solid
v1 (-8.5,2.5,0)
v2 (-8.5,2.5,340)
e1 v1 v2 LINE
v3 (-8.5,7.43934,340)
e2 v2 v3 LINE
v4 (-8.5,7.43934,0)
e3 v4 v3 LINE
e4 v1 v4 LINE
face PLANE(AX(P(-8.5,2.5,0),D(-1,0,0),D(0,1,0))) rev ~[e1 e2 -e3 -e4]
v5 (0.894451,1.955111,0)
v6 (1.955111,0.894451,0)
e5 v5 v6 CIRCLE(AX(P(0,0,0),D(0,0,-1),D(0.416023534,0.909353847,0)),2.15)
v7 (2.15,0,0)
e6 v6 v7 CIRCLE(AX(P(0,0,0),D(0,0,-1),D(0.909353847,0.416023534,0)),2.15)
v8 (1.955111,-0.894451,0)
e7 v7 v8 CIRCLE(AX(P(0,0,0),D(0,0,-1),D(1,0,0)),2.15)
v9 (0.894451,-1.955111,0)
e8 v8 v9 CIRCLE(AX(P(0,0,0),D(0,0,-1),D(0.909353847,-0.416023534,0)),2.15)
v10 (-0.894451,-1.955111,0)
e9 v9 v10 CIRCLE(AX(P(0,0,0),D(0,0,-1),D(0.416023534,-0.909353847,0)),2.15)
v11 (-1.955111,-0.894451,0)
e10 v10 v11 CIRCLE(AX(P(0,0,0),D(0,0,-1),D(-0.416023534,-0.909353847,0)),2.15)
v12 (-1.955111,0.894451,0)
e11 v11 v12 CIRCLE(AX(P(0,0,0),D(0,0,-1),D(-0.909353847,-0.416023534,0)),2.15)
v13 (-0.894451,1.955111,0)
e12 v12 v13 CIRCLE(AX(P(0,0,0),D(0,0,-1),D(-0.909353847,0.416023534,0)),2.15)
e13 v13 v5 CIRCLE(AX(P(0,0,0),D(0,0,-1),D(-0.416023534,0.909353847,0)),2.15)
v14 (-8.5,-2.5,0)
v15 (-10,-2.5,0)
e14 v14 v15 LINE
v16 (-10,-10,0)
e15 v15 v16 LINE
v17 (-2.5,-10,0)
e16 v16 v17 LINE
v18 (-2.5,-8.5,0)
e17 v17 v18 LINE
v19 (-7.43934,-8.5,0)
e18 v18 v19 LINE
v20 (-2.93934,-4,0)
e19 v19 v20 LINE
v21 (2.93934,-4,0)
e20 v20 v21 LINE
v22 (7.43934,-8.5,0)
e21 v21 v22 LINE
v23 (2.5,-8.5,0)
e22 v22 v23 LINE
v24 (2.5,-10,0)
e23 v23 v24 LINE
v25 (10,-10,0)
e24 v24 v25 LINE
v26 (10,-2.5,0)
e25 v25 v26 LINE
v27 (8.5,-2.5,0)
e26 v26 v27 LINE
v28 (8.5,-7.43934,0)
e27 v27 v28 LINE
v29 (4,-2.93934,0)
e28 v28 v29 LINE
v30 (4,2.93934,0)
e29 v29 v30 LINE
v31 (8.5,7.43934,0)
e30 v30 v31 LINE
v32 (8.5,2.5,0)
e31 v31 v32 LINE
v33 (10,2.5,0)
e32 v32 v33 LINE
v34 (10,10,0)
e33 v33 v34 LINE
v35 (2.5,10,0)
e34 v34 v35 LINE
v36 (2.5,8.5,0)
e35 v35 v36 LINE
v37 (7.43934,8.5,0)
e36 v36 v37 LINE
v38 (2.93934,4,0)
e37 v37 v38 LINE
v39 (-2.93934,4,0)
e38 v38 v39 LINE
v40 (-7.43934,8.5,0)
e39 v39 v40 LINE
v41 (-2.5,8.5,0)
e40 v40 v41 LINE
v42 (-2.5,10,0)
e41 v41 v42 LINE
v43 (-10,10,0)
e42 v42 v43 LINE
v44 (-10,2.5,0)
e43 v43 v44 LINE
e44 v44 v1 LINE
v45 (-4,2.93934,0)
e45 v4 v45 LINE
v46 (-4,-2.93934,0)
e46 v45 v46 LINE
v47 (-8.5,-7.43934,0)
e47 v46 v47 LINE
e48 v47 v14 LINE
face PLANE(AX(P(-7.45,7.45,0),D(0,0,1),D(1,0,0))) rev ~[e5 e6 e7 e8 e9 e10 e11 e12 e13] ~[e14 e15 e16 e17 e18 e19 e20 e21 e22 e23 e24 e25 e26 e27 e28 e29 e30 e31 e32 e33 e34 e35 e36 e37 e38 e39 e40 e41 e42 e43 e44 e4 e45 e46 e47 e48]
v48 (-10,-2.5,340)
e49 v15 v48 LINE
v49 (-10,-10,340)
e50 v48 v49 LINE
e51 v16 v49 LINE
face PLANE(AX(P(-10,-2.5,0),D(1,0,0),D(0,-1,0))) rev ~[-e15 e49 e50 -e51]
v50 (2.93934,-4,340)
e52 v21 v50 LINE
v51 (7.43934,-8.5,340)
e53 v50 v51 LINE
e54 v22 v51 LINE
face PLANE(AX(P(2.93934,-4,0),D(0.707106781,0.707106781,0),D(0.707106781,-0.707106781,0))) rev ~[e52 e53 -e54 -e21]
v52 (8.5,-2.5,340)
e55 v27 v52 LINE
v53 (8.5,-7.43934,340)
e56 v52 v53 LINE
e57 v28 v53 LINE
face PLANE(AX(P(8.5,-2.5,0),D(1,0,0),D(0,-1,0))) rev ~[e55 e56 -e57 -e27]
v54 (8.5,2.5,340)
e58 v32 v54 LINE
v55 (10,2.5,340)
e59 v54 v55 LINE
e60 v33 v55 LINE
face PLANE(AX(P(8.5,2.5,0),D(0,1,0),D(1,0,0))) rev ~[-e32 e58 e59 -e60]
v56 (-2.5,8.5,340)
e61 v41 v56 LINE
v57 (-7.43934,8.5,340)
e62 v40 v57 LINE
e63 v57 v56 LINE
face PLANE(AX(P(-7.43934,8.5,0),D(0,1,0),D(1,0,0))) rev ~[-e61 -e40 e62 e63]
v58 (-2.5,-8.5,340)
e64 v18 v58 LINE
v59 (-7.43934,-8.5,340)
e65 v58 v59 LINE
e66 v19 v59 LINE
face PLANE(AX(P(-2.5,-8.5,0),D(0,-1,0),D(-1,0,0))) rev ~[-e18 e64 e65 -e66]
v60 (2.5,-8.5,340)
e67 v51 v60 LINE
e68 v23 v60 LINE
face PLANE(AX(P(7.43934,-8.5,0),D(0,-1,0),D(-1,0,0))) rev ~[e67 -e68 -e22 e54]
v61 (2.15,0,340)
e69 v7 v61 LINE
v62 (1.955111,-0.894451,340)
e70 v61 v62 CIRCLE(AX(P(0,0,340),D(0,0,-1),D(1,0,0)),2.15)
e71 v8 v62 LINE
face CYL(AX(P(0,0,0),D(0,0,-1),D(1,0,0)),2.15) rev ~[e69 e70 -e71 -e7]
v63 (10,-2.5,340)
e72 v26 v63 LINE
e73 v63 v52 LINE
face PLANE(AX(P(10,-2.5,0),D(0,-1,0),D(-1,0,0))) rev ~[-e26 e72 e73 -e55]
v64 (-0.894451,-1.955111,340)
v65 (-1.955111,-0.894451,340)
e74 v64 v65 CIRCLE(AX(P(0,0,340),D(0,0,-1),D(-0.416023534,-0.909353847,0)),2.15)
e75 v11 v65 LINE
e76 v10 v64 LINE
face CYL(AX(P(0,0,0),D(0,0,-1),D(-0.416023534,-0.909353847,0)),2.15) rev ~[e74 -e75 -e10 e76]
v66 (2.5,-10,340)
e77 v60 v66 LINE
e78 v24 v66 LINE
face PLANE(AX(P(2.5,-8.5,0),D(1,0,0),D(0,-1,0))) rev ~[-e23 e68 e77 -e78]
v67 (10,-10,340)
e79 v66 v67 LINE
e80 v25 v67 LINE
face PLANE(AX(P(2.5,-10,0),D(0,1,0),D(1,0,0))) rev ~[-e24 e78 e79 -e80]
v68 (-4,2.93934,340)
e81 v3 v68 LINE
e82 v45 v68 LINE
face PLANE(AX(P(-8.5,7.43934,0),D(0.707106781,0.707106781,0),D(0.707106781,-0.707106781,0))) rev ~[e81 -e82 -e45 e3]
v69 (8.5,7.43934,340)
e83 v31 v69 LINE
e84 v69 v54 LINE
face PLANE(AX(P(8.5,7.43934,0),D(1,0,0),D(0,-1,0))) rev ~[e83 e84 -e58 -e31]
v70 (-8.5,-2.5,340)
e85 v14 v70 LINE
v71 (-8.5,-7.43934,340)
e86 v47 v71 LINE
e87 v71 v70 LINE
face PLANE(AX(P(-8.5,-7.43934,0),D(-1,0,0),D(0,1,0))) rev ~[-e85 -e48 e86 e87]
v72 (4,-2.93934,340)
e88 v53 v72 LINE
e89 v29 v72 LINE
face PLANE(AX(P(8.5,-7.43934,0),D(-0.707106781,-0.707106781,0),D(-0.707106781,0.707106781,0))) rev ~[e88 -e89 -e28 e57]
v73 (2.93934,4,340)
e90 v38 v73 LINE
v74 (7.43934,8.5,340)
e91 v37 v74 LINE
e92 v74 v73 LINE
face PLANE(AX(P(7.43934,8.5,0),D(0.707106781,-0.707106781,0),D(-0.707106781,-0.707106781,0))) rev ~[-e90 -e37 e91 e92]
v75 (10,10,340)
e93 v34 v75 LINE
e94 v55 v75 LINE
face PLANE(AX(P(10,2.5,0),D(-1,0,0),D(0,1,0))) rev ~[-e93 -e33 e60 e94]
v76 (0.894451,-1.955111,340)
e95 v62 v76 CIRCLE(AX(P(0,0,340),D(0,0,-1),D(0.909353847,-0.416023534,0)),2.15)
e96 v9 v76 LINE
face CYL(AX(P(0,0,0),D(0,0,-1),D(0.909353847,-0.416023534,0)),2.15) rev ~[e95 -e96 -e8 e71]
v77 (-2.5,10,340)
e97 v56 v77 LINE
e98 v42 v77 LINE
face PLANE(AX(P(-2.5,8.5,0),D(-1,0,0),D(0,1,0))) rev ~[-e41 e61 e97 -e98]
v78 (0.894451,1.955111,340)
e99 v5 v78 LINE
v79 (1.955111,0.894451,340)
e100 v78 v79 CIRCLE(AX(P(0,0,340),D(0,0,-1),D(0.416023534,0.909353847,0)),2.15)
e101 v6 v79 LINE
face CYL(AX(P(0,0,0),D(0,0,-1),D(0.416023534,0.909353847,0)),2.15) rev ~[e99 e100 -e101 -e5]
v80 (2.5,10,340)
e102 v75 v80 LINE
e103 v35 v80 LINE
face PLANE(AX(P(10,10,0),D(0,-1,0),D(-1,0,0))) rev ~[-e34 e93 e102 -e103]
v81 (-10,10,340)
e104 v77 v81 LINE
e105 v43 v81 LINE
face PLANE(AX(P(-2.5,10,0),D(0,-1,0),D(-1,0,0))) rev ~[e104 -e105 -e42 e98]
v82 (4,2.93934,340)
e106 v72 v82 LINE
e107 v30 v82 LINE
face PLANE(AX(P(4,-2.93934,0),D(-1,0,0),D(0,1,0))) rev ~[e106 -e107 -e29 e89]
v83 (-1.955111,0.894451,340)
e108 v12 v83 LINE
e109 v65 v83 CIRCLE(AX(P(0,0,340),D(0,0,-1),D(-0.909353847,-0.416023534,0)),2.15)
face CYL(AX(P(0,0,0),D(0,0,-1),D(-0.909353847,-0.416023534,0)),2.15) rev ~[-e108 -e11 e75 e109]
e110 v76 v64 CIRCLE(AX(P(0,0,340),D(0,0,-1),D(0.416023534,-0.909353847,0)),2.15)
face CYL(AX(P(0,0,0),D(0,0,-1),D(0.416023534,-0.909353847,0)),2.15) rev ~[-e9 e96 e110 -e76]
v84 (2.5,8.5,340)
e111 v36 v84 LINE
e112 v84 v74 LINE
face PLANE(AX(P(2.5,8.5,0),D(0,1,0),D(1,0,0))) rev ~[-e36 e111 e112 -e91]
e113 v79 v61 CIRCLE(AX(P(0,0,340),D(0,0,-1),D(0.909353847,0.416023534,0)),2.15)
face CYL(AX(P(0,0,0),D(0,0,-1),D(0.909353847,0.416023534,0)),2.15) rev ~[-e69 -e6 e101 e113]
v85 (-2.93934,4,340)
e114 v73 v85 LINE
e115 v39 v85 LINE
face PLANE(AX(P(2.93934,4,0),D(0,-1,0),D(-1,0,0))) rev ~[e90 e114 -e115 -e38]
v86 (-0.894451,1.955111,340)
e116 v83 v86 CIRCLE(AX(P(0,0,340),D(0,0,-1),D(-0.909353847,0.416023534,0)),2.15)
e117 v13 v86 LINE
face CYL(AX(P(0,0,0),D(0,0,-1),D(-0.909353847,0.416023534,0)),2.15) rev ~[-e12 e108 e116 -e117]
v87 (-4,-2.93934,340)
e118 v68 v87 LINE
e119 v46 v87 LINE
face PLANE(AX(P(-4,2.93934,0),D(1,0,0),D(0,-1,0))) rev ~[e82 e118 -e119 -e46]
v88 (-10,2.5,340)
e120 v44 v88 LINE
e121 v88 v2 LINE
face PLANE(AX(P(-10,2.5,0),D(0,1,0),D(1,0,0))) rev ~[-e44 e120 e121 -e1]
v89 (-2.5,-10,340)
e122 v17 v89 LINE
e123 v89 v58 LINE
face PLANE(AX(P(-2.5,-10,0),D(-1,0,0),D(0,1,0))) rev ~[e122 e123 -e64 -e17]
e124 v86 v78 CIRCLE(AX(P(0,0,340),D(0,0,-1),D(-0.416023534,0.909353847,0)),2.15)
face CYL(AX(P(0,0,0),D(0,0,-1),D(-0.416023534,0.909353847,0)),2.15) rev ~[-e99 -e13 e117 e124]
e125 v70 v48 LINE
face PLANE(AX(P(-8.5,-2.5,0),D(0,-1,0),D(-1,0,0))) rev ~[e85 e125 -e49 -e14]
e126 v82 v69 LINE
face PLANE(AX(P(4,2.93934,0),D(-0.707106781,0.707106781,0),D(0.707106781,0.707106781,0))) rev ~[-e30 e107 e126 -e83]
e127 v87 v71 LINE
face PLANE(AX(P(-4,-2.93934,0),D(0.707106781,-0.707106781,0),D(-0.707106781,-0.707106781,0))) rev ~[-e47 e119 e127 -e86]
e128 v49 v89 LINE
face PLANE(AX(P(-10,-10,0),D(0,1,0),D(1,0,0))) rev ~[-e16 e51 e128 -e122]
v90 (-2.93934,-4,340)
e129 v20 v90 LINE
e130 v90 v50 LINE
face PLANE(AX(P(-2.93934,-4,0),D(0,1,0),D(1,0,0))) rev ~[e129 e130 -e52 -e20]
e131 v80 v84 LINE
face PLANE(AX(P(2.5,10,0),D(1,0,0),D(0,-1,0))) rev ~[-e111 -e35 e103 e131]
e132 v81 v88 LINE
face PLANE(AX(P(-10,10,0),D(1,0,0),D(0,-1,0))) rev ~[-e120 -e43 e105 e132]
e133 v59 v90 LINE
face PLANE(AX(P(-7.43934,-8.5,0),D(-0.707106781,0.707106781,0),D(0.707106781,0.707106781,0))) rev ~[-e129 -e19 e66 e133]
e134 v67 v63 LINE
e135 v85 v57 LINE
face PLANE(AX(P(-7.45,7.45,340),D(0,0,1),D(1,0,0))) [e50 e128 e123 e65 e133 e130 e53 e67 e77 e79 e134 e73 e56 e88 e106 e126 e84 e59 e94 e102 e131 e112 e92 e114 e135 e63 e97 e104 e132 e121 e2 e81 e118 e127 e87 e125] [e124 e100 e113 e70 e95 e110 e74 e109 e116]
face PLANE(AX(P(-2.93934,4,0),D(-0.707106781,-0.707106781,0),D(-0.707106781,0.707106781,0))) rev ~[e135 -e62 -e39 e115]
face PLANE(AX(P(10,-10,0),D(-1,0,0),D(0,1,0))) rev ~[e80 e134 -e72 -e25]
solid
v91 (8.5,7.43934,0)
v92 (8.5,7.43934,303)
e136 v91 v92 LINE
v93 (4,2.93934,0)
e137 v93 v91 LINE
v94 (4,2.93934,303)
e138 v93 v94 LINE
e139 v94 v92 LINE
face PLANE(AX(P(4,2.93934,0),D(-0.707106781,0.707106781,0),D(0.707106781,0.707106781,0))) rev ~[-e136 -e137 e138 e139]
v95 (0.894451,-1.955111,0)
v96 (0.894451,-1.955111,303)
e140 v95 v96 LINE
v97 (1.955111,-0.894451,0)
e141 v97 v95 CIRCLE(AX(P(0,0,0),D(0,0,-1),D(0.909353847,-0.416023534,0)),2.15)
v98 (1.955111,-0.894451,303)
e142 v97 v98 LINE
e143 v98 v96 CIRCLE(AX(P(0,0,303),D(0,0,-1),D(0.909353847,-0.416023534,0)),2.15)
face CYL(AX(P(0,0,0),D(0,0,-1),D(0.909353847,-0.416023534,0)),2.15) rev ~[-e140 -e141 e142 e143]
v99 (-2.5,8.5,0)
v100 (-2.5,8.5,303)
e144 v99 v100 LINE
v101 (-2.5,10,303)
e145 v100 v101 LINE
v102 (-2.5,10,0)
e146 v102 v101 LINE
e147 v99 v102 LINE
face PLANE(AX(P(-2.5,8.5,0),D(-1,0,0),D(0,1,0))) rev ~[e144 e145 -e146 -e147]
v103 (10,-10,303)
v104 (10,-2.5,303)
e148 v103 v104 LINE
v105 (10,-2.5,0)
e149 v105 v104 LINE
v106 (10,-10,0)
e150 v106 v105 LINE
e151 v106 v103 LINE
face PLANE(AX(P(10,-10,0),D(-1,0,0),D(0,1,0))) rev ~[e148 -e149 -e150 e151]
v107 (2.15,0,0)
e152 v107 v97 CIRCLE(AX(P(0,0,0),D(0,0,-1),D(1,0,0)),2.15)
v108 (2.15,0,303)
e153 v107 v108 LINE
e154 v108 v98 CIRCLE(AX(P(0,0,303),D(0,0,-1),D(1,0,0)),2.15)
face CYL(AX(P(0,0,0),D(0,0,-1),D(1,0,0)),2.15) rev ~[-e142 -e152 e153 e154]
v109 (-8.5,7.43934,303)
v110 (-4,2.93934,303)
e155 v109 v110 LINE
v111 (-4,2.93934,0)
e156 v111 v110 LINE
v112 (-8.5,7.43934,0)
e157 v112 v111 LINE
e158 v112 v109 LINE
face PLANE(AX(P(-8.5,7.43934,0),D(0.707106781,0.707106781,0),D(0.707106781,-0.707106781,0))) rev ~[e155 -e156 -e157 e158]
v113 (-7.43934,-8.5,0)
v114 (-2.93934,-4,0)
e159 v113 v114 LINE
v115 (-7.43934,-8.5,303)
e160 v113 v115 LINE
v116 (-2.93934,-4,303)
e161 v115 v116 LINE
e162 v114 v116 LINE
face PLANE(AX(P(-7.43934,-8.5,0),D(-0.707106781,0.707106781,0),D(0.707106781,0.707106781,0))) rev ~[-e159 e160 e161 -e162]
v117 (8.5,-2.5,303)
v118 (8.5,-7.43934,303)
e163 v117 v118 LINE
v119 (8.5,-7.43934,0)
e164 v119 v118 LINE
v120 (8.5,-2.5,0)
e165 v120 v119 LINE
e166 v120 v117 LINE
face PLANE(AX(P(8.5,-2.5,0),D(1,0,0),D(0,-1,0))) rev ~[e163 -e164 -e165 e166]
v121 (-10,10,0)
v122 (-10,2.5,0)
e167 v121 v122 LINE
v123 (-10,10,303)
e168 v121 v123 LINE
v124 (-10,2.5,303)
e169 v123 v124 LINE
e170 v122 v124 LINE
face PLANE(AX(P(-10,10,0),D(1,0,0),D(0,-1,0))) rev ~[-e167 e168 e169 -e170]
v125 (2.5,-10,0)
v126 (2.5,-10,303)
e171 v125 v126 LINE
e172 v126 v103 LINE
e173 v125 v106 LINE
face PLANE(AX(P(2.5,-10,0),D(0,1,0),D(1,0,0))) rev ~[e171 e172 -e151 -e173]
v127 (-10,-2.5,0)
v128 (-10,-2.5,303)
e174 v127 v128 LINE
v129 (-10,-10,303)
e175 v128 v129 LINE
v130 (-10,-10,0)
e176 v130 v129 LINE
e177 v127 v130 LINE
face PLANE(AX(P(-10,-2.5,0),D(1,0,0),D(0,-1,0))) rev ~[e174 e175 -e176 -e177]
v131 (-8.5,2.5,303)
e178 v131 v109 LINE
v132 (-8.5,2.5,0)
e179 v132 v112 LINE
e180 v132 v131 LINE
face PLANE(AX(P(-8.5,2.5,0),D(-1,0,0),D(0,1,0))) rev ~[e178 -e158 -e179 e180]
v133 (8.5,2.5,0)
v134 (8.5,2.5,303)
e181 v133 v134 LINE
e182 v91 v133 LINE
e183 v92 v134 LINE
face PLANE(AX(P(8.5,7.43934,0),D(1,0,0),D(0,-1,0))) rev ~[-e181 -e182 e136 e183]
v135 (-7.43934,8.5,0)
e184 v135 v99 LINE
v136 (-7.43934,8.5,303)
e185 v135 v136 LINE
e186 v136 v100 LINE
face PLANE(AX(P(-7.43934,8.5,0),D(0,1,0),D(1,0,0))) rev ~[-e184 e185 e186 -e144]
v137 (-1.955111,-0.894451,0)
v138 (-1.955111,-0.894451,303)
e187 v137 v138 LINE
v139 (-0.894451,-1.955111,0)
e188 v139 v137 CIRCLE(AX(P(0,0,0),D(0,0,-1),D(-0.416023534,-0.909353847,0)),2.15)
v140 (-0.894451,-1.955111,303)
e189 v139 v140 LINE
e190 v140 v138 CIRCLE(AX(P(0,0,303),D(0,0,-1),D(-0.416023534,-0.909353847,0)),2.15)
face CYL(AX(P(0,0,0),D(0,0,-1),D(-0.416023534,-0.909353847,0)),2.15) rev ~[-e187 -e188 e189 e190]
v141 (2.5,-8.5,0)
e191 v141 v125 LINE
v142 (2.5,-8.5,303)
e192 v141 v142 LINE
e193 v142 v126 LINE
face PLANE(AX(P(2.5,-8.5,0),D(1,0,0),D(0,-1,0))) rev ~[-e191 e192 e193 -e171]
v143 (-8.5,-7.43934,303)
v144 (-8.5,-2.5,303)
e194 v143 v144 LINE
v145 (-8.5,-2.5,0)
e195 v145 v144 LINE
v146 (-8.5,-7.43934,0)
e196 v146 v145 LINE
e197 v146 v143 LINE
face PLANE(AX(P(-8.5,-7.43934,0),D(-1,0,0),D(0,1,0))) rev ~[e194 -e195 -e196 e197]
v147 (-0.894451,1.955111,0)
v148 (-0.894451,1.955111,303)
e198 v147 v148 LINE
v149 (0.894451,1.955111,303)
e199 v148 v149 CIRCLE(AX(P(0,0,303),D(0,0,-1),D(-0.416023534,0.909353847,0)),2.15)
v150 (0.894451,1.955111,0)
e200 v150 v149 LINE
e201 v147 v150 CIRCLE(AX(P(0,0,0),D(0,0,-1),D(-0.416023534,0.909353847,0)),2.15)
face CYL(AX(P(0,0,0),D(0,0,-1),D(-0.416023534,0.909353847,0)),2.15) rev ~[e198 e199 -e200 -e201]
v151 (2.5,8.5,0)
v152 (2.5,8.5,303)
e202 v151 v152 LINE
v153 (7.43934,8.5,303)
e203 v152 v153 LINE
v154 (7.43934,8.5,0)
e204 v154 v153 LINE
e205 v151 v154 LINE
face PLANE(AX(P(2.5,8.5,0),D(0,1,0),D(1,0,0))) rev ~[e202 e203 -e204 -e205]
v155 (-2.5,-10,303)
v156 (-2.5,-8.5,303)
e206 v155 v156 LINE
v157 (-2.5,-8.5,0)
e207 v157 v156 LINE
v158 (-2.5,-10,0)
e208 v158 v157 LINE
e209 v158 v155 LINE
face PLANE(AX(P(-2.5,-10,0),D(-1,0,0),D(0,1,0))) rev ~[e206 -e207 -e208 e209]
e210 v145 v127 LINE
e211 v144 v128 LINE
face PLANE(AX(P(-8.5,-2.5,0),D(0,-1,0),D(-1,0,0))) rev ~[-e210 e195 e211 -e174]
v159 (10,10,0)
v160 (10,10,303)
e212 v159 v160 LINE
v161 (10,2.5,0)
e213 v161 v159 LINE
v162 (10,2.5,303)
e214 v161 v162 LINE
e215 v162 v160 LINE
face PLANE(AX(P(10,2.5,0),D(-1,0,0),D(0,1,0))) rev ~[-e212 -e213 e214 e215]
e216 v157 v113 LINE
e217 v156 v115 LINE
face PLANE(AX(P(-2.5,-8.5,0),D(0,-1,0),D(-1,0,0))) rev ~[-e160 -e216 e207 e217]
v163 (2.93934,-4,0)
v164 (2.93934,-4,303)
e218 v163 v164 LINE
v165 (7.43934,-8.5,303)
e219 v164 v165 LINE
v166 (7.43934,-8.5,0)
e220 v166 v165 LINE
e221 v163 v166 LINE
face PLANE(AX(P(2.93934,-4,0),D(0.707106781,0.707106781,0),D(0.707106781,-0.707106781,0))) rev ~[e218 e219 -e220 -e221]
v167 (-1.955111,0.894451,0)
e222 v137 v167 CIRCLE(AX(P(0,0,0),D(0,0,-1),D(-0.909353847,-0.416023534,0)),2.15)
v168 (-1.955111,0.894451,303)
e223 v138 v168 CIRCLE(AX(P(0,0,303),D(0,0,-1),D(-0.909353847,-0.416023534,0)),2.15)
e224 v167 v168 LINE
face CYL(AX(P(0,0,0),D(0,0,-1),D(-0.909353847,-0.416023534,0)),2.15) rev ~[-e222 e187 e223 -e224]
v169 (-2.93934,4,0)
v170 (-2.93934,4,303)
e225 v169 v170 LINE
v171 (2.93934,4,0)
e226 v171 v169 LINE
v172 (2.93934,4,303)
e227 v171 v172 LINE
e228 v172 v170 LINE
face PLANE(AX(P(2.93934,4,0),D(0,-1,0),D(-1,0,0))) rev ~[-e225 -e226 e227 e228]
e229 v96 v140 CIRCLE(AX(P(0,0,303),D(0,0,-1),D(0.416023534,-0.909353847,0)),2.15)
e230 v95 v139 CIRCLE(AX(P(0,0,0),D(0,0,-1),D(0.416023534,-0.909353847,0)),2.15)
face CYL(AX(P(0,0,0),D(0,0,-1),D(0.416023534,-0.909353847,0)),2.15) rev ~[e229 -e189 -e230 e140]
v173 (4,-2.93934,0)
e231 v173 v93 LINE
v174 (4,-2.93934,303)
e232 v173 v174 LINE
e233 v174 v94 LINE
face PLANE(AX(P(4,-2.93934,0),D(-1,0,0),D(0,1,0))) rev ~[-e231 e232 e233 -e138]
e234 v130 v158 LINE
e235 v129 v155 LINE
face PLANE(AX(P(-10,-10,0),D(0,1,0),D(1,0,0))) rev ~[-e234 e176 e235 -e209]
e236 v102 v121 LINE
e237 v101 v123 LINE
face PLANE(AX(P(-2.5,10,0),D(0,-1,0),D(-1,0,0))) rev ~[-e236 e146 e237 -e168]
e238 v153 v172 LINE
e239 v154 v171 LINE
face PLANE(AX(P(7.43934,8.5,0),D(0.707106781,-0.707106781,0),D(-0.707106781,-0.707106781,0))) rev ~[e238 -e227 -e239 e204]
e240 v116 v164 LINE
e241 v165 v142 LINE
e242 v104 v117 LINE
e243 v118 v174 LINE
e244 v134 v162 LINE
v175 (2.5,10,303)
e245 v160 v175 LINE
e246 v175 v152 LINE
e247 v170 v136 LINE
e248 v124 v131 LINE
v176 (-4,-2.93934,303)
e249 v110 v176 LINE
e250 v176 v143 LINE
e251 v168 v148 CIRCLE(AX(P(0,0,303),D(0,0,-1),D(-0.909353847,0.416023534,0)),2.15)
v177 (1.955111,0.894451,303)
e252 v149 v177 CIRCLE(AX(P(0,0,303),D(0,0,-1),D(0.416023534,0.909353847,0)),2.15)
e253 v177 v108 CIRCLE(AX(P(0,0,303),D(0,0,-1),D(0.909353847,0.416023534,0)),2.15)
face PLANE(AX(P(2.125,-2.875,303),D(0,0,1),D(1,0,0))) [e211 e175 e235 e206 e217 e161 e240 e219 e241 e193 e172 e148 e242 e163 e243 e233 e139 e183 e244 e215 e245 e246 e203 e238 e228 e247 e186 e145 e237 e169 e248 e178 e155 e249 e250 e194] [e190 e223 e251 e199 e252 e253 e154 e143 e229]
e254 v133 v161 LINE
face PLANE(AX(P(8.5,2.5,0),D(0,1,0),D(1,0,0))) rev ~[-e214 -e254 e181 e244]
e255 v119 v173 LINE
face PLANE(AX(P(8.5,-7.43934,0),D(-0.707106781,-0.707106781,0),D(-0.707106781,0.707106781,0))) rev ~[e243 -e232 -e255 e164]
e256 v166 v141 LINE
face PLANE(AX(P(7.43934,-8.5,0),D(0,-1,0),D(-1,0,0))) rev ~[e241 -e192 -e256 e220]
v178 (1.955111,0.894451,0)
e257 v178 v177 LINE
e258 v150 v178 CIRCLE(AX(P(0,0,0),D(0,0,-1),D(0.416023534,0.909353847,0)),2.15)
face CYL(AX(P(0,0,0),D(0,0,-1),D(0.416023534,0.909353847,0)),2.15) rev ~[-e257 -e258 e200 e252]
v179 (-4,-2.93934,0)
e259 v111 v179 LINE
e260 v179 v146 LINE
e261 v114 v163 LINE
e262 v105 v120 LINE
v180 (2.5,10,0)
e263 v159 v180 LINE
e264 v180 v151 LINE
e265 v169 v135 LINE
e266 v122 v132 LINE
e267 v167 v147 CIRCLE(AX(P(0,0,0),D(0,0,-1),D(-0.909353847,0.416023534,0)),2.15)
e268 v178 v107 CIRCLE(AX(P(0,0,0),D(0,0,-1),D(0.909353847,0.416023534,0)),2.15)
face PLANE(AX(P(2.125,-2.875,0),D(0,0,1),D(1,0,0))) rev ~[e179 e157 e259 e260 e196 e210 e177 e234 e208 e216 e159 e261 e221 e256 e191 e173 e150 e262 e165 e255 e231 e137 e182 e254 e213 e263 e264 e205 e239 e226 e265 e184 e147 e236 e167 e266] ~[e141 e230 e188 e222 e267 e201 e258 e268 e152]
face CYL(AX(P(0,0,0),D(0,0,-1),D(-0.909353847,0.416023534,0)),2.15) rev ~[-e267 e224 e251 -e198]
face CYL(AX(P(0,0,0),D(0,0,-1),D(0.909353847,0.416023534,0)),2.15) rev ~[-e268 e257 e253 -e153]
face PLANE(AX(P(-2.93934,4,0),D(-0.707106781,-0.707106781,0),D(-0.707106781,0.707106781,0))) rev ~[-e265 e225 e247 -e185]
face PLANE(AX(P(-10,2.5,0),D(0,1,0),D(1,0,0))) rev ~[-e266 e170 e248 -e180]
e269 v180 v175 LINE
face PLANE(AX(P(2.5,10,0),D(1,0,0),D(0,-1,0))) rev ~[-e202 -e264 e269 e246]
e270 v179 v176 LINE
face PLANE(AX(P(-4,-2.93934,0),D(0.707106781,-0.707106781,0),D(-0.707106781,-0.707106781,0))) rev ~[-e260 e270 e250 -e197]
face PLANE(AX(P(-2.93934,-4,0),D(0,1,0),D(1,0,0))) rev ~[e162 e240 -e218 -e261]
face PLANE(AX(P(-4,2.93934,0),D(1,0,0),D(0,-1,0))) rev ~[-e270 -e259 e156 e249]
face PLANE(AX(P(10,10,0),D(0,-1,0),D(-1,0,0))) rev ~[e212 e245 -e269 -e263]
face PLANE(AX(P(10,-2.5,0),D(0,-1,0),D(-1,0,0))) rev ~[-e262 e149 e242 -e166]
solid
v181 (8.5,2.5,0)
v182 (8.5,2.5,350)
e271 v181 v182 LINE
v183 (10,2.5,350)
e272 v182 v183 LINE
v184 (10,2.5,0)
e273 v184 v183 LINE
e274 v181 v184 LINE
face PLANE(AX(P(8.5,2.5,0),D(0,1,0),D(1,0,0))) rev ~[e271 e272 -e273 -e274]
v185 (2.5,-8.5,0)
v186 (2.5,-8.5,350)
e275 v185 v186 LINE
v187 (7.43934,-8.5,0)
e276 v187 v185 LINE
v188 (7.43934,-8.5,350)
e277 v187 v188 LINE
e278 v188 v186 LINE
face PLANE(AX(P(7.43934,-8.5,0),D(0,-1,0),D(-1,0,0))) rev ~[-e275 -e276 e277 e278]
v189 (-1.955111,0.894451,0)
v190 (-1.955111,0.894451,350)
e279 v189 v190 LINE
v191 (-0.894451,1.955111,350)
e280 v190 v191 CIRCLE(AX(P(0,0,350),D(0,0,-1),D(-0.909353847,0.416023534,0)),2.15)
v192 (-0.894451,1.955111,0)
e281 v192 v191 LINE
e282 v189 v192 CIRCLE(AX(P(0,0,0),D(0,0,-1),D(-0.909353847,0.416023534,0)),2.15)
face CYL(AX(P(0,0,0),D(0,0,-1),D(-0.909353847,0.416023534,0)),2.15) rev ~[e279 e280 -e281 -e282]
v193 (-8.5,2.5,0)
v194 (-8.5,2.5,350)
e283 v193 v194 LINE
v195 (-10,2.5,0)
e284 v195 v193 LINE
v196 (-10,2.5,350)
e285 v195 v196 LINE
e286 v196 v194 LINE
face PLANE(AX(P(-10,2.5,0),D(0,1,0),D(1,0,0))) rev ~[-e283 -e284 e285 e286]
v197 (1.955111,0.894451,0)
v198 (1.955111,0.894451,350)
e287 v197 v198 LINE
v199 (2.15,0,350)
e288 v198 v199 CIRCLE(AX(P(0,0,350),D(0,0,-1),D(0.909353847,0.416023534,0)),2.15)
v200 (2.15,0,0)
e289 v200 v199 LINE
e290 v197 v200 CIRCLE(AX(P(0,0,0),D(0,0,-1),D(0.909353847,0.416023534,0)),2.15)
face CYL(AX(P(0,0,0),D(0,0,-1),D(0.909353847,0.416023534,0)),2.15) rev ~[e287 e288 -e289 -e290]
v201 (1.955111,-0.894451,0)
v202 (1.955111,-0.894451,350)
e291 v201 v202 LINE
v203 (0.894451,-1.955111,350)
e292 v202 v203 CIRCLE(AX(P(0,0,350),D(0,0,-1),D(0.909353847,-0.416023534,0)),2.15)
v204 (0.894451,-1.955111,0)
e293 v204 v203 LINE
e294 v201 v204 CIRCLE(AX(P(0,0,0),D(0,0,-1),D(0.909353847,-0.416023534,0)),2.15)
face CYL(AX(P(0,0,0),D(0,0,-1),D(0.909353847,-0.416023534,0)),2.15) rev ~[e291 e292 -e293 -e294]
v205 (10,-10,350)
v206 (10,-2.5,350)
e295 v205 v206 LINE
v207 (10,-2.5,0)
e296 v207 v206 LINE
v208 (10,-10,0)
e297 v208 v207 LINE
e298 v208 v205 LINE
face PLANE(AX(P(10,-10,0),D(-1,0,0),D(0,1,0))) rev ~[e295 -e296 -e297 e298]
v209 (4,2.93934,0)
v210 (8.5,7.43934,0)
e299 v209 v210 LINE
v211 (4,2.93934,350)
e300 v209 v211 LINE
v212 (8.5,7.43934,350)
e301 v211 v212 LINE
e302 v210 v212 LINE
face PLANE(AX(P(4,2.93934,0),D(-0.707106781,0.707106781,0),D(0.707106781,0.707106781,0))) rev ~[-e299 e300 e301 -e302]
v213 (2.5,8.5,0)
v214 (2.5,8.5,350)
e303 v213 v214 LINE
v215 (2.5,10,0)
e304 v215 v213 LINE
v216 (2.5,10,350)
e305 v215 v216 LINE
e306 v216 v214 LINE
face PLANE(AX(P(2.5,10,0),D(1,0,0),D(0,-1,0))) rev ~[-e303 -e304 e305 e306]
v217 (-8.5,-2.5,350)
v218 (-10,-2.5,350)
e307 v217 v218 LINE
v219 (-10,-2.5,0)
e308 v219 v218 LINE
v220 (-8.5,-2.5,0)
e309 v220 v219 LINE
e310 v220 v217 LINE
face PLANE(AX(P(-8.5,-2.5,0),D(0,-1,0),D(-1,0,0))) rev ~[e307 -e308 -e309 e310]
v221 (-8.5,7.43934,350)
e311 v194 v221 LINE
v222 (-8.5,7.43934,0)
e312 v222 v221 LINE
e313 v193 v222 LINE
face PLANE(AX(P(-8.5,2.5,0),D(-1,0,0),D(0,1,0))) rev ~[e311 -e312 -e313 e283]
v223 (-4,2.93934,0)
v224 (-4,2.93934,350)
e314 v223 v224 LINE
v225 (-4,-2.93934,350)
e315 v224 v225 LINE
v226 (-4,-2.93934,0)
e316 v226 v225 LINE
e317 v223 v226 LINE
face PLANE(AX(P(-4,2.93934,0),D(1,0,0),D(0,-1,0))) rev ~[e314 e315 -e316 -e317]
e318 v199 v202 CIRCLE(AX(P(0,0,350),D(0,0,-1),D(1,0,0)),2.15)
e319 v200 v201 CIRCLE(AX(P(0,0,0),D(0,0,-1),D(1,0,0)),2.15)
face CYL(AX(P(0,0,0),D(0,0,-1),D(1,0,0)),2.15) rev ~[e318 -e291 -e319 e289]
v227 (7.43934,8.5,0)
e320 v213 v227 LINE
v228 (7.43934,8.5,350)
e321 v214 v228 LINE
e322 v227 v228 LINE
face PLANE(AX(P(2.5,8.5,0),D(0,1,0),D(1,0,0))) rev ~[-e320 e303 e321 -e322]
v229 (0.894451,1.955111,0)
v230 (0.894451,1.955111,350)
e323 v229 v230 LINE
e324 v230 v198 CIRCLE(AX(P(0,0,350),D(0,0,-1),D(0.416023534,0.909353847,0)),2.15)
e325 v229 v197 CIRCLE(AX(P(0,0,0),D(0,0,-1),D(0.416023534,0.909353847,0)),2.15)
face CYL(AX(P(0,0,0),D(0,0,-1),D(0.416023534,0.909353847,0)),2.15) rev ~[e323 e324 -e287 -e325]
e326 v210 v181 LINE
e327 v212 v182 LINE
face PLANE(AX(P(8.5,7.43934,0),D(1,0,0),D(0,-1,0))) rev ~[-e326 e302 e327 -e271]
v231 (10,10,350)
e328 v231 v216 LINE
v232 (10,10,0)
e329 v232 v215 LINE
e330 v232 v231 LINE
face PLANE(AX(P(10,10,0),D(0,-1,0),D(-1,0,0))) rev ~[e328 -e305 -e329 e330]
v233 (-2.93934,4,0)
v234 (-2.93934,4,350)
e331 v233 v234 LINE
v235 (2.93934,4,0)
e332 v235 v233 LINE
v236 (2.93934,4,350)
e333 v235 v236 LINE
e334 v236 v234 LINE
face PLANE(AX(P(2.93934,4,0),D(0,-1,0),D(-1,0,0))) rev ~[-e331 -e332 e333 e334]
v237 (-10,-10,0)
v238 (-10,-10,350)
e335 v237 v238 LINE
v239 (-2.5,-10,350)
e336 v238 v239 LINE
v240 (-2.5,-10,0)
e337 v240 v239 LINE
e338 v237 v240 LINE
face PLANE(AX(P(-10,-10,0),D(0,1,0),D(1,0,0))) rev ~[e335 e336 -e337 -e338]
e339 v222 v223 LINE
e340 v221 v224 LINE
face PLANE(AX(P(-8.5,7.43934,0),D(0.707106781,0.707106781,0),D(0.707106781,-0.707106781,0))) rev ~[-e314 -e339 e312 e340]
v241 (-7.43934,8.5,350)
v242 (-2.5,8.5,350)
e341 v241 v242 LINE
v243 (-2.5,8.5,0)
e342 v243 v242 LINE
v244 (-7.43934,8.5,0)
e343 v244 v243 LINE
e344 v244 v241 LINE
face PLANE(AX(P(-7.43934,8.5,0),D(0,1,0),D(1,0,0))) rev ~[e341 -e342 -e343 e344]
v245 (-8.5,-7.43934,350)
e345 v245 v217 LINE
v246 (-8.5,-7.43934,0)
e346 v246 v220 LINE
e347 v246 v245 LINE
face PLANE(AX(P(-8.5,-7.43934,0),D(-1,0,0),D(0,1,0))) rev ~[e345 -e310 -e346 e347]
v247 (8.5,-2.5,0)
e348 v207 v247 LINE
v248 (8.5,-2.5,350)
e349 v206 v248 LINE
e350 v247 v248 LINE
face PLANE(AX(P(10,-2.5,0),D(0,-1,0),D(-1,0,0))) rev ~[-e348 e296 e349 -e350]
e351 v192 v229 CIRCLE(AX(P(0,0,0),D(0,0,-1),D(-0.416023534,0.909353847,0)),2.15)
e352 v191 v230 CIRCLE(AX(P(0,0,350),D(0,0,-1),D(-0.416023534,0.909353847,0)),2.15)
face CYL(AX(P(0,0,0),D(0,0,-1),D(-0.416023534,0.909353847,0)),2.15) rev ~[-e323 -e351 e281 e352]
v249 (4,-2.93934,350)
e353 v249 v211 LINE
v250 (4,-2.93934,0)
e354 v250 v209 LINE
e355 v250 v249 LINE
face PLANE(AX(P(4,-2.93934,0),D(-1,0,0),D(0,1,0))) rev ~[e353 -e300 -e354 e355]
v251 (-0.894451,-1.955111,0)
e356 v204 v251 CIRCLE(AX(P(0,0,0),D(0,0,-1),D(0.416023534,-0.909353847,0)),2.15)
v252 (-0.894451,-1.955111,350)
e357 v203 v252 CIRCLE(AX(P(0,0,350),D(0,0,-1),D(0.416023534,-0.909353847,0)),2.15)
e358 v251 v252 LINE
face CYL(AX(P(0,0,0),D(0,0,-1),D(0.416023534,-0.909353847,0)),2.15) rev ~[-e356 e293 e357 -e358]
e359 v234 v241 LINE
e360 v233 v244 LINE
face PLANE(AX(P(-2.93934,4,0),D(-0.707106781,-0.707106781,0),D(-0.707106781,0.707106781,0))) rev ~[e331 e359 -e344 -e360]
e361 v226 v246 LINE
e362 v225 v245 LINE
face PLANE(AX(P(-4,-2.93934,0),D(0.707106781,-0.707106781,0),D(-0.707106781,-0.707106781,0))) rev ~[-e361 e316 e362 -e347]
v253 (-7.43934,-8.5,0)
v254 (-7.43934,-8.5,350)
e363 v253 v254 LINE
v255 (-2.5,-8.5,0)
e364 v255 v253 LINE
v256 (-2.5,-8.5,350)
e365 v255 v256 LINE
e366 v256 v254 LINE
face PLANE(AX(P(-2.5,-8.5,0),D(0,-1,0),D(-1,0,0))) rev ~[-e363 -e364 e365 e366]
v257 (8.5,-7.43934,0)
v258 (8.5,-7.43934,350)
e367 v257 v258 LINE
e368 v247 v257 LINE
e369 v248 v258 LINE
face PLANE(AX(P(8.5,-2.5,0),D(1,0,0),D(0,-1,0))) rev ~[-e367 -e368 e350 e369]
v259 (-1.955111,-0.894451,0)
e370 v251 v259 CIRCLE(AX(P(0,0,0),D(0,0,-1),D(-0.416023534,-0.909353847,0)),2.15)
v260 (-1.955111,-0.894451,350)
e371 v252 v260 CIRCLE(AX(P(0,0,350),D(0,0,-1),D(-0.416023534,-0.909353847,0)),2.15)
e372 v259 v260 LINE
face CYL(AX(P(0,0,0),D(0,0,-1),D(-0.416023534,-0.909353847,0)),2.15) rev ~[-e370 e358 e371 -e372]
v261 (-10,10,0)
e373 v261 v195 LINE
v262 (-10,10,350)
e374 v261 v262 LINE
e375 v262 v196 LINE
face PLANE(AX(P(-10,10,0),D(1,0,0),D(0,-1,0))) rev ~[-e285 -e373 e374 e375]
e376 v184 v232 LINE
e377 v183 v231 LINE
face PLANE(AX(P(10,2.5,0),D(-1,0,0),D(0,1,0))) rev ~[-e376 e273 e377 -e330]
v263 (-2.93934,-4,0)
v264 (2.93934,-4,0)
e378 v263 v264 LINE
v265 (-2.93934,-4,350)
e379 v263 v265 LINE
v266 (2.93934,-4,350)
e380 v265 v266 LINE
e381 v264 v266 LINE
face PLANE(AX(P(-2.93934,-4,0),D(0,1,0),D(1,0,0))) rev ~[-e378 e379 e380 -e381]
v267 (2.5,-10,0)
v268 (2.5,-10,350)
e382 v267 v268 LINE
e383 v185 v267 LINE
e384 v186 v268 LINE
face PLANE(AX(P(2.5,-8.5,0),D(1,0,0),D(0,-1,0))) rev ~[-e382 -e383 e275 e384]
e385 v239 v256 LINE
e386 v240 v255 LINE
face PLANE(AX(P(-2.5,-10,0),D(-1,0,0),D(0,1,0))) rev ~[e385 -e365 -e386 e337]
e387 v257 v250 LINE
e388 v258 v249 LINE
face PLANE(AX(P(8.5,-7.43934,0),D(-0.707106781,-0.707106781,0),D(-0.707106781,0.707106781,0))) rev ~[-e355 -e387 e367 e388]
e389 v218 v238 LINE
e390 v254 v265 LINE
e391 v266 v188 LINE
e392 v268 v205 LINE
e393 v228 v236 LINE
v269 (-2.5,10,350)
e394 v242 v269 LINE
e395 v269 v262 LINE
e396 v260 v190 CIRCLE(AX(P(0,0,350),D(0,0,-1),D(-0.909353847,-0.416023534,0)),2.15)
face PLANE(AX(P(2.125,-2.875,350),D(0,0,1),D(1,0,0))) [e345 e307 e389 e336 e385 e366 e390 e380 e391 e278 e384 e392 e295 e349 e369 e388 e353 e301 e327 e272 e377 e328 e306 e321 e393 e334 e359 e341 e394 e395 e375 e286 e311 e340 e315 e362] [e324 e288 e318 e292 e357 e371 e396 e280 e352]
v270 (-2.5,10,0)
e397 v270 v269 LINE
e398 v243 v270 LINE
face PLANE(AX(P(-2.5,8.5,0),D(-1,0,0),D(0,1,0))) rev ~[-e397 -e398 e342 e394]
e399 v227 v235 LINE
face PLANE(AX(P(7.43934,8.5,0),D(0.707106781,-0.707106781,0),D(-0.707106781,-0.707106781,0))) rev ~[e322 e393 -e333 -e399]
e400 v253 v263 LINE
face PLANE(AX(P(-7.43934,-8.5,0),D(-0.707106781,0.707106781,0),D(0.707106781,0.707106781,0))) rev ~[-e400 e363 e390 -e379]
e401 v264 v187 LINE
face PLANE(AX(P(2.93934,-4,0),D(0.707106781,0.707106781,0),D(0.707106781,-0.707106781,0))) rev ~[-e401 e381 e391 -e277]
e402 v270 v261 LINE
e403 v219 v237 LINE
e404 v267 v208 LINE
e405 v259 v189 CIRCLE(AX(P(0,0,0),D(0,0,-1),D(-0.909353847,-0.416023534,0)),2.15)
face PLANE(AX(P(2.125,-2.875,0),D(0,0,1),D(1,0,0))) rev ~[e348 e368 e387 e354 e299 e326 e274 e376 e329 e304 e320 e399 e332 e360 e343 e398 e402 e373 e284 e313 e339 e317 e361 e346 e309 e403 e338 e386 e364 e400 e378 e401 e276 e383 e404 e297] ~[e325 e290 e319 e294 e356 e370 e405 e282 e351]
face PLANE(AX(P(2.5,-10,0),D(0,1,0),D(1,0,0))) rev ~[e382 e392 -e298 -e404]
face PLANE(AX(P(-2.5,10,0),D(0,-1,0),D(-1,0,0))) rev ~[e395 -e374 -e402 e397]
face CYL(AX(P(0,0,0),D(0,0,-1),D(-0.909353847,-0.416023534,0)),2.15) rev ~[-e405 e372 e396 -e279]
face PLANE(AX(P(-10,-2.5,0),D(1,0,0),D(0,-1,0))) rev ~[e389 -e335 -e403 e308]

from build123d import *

# Parameters (mm, degrees)
F1_DEPTH = 340
F2_DEPTH = 303
F3_DEPTH = 350


with BuildPart() as f1:
    # F0 (on Top) → F1 (new body)
    with BuildSketch(Plane.XY):
        Polygon((-8.5, 8.5), (-7.4393398282, 8.5), (-2.5, 8.5), (-2.5, 10), (-10, 10), (-10, 2.5), (-8.5, 2.5), (-8.5, 7.4393398282), align=None)
        Polygon((-4, 4), (-2.9393398282, 4), (-7.4393398282, 8.5), (-8.5, 8.5), (-8.5, 7.4393398282), (-4, 2.9393398282), align=None)
        Polygon((-2.5, -1.4393398282), (-2.5, 1.4393398282), (-3.5606601718, 2.5), (-4, 2.5), (-4, -2.5), (-3.5606601718, -2.5), align=None)
        Polygon((-2.5, 2.5), (-2.5, 3.5606601718), (-2.9393398282, 4), (-4, 4), (-4, 2.9393398282), (-3.5606601718, 2.5), align=None)
        Polygon((-4, 2.5), (-3.5606601718, 2.5), (-4, 2.9393398282), align=None)
        Polygon((-4, -2.9393398282), (-3.5606601718, -2.5), (-4, -2.5), align=None)
        Polygon((-2.9393398282, -4), (-2.5, -3.5606601718), (-2.5, -2.5), (-3.5606601718, -2.5), (-4, -2.9393398282), (-4, -4), align=None)
        Polygon((-7.4393398282, -8.5), (-2.9393398282, -4), (-4, -4), (-4, -2.9393398282), (-8.5, -7.4393398282), (-8.5, -8.5), align=None)
        Polygon((-2.5, -2.5), (-2.5, -1.4393398282), (-3.5606601718, -2.5), align=None)
        Polygon((-3.5606601718, 2.5), (-2.5, 1.4393398282), (-2.5, 2.5), align=None)
        Polygon((-2.9393398282, 4), (-2.5, 3.5606601718), (-2.5, 4), align=None)
        Polygon((-1.4393398282, 2.5), (1.4393398282, 2.5), (2.5, 3.5606601718), (2.5, 4), (-2.5, 4), (-2.5, 3.5606601718), align=None)
        Polygon((-2.5, 2.5), (-1.4393398282, 2.5), (-2.5, 3.5606601718), align=None)
        Polygon((2.5, 3.5606601718), (1.4393398282, 2.5), (2.5, 2.5), align=None)
        Polygon((2.5, 2.5), (3.5606601718, 2.5), (4, 2.9393398282), (4, 4), (2.9393398282, 4), (2.5, 3.5606601718), align=None)
        Polygon((2.5, 4), (2.5, 3.5606601718), (2.9393398282, 4), align=None)
        Polygon((4, 2.9393398282), (3.5606601718, 2.5), (4, 2.5), align=None)
        Polygon((3.5606601718, 2.5), (2.5, 1.4393398282), (2.5, -1.4393398282), (3.5606601718, -2.5), (4, -2.5), (4, 2.5), align=None)
        Polygon((4, -2.9393398282), (3.5606601718, -2.5), (2.5, -2.5), (2.5, -3.5606601718), (2.9393398282, -4), (4, -4), align=None)
        Polygon((3.5606601718, -2.5), (2.5, -1.4393398282), (2.5, -2.5), align=None)
        Polygon((2.5, -2.5), (1.4393398282, -2.5), (2.5, -3.5606601718), align=None)
        Polygon((2.5, -3.5606601718), (1.4393398282, -2.5), (-1.4393398282, -2.5), (-2.5, -3.5606601718), (-2.5, -4), (2.5, -4), align=None)
        Polygon((-2.5, -4), (-2.5, -3.5606601718), (-2.9393398282, -4), align=None)
        Polygon((4, -2.5), (3.5606601718, -2.5), (4, -2.9393398282), align=None)
        Polygon((2.9393398282, -4), (2.5, -3.5606601718), (2.5, -4), align=None)
        Polygon((8.5, -7.4393398282), (4, -2.9393398282), (4, -4), (2.9393398282, -4), (7.4393398282, -8.5), (8.5, -8.5), align=None)
        Polygon((-2.5, -3.5606601718), (-1.4393398282, -2.5), (-2.5, -2.5), align=None)
        Polygon((2.5, 2.5), (2.5, 1.4393398282), (3.5606601718, 2.5), align=None)
        Polygon((4, 4), (4, 2.9393398282), (8.5, 7.4393398282), (8.5, 8.5), (7.4393398282, 8.5), (2.9393398282, 4), align=None)
        Polygon((8.5, 8.5), (8.5, 7.4393398282), (8.5, 2.5), (10, 2.5), (10, 10), (2.5, 10), (2.5, 8.5), (7.4393398282, 8.5), align=None)
        Polygon((8.5, -2.5), (8.5, -7.4393398282), (8.5, -8.5), (7.4393398282, -8.5), (2.5, -8.5), (2.5, -10), (10, -10), (10, -2.5), align=None)
        Polygon((-2.5, -8.5), (-7.4393398282, -8.5), (-8.5, -8.5), (-8.5, -7.4393398282), (-8.5, -2.5), (-10, -2.5), (-10, -10), (-2.5, -10), align=None)
        with BuildLine():
            ThreePointArc((-1.9551107708, 0.894450599), (-1.5202795796, 1.5202795796), (-0.894450599, 1.9551107708))
            Line((-0.894450599, 1.9551107708), (-1.4393398282, 2.5))
            Line((-1.4393398282, 2.5), (-2.5, 2.5))
            Line((-2.5, 2.5), (-2.5, 1.4393398282))
            Line((-2.5, 1.4393398282), (-1.9551107708, 0.894450599))
        make_face()
        with BuildLine():
            ThreePointArc((-0.894450599, 1.9551107708), (0, 2.15), (0.894450599, 1.9551107708))
            Line((0.894450599, 1.9551107708), (1.4393398282, 2.5))
            Line((1.4393398282, 2.5), (-1.4393398282, 2.5))
            Line((-1.4393398282, 2.5), (-0.894450599, 1.9551107708))
        make_face()
        with BuildLine():
            ThreePointArc((0.894450599, 1.9551107708), (1.5202795796, 1.5202795796), (1.9551107708, 0.894450599))
            Line((1.9551107708, 0.894450599), (2.5, 1.4393398282))
            Line((2.5, 1.4393398282), (2.5, 2.5))
            Line((2.5, 2.5), (1.4393398282, 2.5))
            Line((1.4393398282, 2.5), (0.894450599, 1.9551107708))
        make_face()
        with BuildLine():
            ThreePointArc((1.9551107708, 0.894450599), (2.1007127549, 0.4577181681), (2.15, 0))
            ThreePointArc((2.15, 0), (2.1007127549, -0.4577181681), (1.9551107708, -0.894450599))
            Line((1.9551107708, -0.894450599), (2.5, -1.4393398282))
            Line((2.5, -1.4393398282), (2.5, 1.4393398282))
            Line((2.5, 1.4393398282), (1.9551107708, 0.894450599))
        make_face()
        with BuildLine():
            Line((2.5, -1.4393398282), (1.9551107708, -0.894450599))
            ThreePointArc((1.9551107708, -0.894450599), (1.5202795796, -1.5202795796), (0.894450599, -1.9551107708))
            Line((0.894450599, -1.9551107708), (1.4393398282, -2.5))
            Line((1.4393398282, -2.5), (2.5, -2.5))
            Line((2.5, -2.5), (2.5, -1.4393398282))
        make_face()
        with BuildLine():
            Line((1.4393398282, -2.5), (0.894450599, -1.9551107708))
            ThreePointArc((0.894450599, -1.9551107708), (0, -2.15), (-0.894450599, -1.9551107708))
            Line((-0.894450599, -1.9551107708), (-1.4393398282, -2.5))
            Line((-1.4393398282, -2.5), (1.4393398282, -2.5))
        make_face()
        with BuildLine():
            Line((-1.4393398282, -2.5), (-0.894450599, -1.9551107708))
            ThreePointArc((-0.894450599, -1.9551107708), (-1.5202795796, -1.5202795796), (-1.9551107708, -0.894450599))
            Line((-1.9551107708, -0.894450599), (-2.5, -1.4393398282))
            Line((-2.5, -1.4393398282), (-2.5, -2.5))
            Line((-2.5, -2.5), (-1.4393398282, -2.5))
        make_face()
        with BuildLine():
            ThreePointArc((-1.9551107708, -0.894450599), (-2.15, 0), (-1.9551107708, 0.894450599))
            Line((-1.9551107708, 0.894450599), (-2.5, 1.4393398282))
            Line((-2.5, 1.4393398282), (-2.5, -1.4393398282))
            Line((-2.5, -1.4393398282), (-1.9551107708, -0.894450599))
        make_face()
    extrude(amount=F1_DEPTH)


with BuildPart() as f2:
    # F0 (on Top) → F2 (new body)
    with BuildSketch(Plane.XY):
        Polygon((2.5, -2.5), (1.4393398282, -2.5), (2.5, -3.5606601718), align=None)
        with BuildLine():
            Line((-1.4393398282, -2.5), (-0.894450599, -1.9551107708))
            ThreePointArc((-0.894450599, -1.9551107708), (-1.5202795796, -1.5202795796), (-1.9551107708, -0.894450599))
            Line((-1.9551107708, -0.894450599), (-2.5, -1.4393398282))
            Line((-2.5, -1.4393398282), (-2.5, -2.5))
            Line((-2.5, -2.5), (-1.4393398282, -2.5))
        make_face()
        Polygon((-2.5, -3.5606601718), (-1.4393398282, -2.5), (-2.5, -2.5), align=None)
        Polygon((2.5, 2.5), (2.5, 1.4393398282), (3.5606601718, 2.5), align=None)
        Polygon((-2.5, -1.4393398282), (-2.5, 1.4393398282), (-3.5606601718, 2.5), (-4, 2.5), (-4, -2.5), (-3.5606601718, -2.5), align=None)
        Polygon((3.5606601718, 2.5), (2.5, 1.4393398282), (2.5, -1.4393398282), (3.5606601718, -2.5), (4, -2.5), (4, 2.5), align=None)
        Polygon((-2.5, 2.5), (-2.5, 3.5606601718), (-2.9393398282, 4), (-4, 4), (-4, 2.9393398282), (-3.5606601718, 2.5), align=None)
        Polygon((-3.5606601718, 2.5), (-2.5, 1.4393398282), (-2.5, 2.5), align=None)
        Polygon((-7.4393398282, -8.5), (-2.9393398282, -4), (-4, -4), (-4, -2.9393398282), (-8.5, -7.4393398282), (-8.5, -8.5), align=None)
        Polygon((-1.4393398282, 2.5), (1.4393398282, 2.5), (2.5, 3.5606601718), (2.5, 4), (-2.5, 4), (-2.5, 3.5606601718), align=None)
        Polygon((-8.5, 8.5), (-7.4393398282, 8.5), (-2.5, 8.5), (-2.5, 10), (-10, 10), (-10, 2.5), (-8.5, 2.5), (-8.5, 7.4393398282), align=None)
        Polygon((-2.9393398282, -4), (-2.5, -3.5606601718), (-2.5, -2.5), (-3.5606601718, -2.5), (-4, -2.9393398282), (-4, -4), align=None)
        Polygon((4, 4), (4, 2.9393398282), (8.5, 7.4393398282), (8.5, 8.5), (7.4393398282, 8.5), (2.9393398282, 4), align=None)
        Polygon((8.5, -7.4393398282), (4, -2.9393398282), (4, -4), (2.9393398282, -4), (7.4393398282, -8.5), (8.5, -8.5), align=None)
        Polygon((8.5, 8.5), (8.5, 7.4393398282), (8.5, 2.5), (10, 2.5), (10, 10), (2.5, 10), (2.5, 8.5), (7.4393398282, 8.5), align=None)
        with BuildLine():
            ThreePointArc((0.894450599, 1.9551107708), (1.5202795796, 1.5202795796), (1.9551107708, 0.894450599))
            Line((1.9551107708, 0.894450599), (2.5, 1.4393398282))
            Line((2.5, 1.4393398282), (2.5, 2.5))
            Line((2.5, 2.5), (1.4393398282, 2.5))
            Line((1.4393398282, 2.5), (0.894450599, 1.9551107708))
        make_face()
        Polygon((2.5, 3.5606601718), (1.4393398282, 2.5), (2.5, 2.5), align=None)
        Polygon((-2.5, -2.5), (-2.5, -1.4393398282), (-3.5606601718, -2.5), align=None)
        Polygon((2.5, -3.5606601718), (1.4393398282, -2.5), (-1.4393398282, -2.5), (-2.5, -3.5606601718), (-2.5, -4), (2.5, -4), align=None)
        with BuildLine():
            ThreePointArc((-1.9551107708, -0.894450599), (-2.15, 0), (-1.9551107708, 0.894450599))
            Line((-1.9551107708, 0.894450599), (-2.5, 1.4393398282))
            Line((-2.5, 1.4393398282), (-2.5, -1.4393398282))
            Line((-2.5, -1.4393398282), (-1.9551107708, -0.894450599))
        make_face()
        Polygon((-2.5, 2.5), (-1.4393398282, 2.5), (-2.5, 3.5606601718), align=None)
        with BuildLine():
            Line((1.4393398282, -2.5), (0.894450599, -1.9551107708))
            ThreePointArc((0.894450599, -1.9551107708), (0, -2.15), (-0.894450599, -1.9551107708))
            Line((-0.894450599, -1.9551107708), (-1.4393398282, -2.5))
            Line((-1.4393398282, -2.5), (1.4393398282, -2.5))
        make_face()
        with BuildLine():
            Line((2.5, -1.4393398282), (1.9551107708, -0.894450599))
            ThreePointArc((1.9551107708, -0.894450599), (1.5202795796, -1.5202795796), (0.894450599, -1.9551107708))
            Line((0.894450599, -1.9551107708), (1.4393398282, -2.5))
            Line((1.4393398282, -2.5), (2.5, -2.5))
            Line((2.5, -2.5), (2.5, -1.4393398282))
        make_face()
        with BuildLine():
            ThreePointArc((-1.9551107708, 0.894450599), (-1.5202795796, 1.5202795796), (-0.894450599, 1.9551107708))
            Line((-0.894450599, 1.9551107708), (-1.4393398282, 2.5))
            Line((-1.4393398282, 2.5), (-2.5, 2.5))
            Line((-2.5, 2.5), (-2.5, 1.4393398282))
            Line((-2.5, 1.4393398282), (-1.9551107708, 0.894450599))
        make_face()
        Polygon((2.5, 2.5), (3.5606601718, 2.5), (4, 2.9393398282), (4, 4), (2.9393398282, 4), (2.5, 3.5606601718), align=None)
        with BuildLine():
            ThreePointArc((1.9551107708, 0.894450599), (2.1007127549, 0.4577181681), (2.15, 0))
            ThreePointArc((2.15, 0), (2.1007127549, -0.4577181681), (1.9551107708, -0.894450599))
            Line((1.9551107708, -0.894450599), (2.5, -1.4393398282))
            Line((2.5, -1.4393398282), (2.5, 1.4393398282))
            Line((2.5, 1.4393398282), (1.9551107708, 0.894450599))
        make_face()
        Polygon((-4, 4), (-2.9393398282, 4), (-7.4393398282, 8.5), (-8.5, 8.5), (-8.5, 7.4393398282), (-4, 2.9393398282), align=None)
        Polygon((4, -2.9393398282), (3.5606601718, -2.5), (2.5, -2.5), (2.5, -3.5606601718), (2.9393398282, -4), (4, -4), align=None)
        Polygon((3.5606601718, -2.5), (2.5, -1.4393398282), (2.5, -2.5), align=None)
        Polygon((-2.9393398282, 4), (-2.5, 3.5606601718), (-2.5, 4), align=None)
        Polygon((-4, 2.5), (-3.5606601718, 2.5), (-4, 2.9393398282), align=None)
        Polygon((2.9393398282, -4), (2.5, -3.5606601718), (2.5, -4), align=None)
        Polygon((4, -2.5), (3.5606601718, -2.5), (4, -2.9393398282), align=None)
        Polygon((-4, -2.9393398282), (-3.5606601718, -2.5), (-4, -2.5), align=None)
        Polygon((4, 2.9393398282), (3.5606601718, 2.5), (4, 2.5), align=None)
        Polygon((-2.5, -4), (-2.5, -3.5606601718), (-2.9393398282, -4), align=None)
        Polygon((2.5, 4), (2.5, 3.5606601718), (2.9393398282, 4), align=None)
        with BuildLine():
            ThreePointArc((-0.894450599, 1.9551107708), (0, 2.15), (0.894450599, 1.9551107708))
            Line((0.894450599, 1.9551107708), (1.4393398282, 2.5))
            Line((1.4393398282, 2.5), (-1.4393398282, 2.5))
            Line((-1.4393398282, 2.5), (-0.894450599, 1.9551107708))
        make_face()
        Polygon((-2.5, -8.5), (-7.4393398282, -8.5), (-8.5, -8.5), (-8.5, -7.4393398282), (-8.5, -2.5), (-10, -2.5), (-10, -10), (-2.5, -10), align=None)
        Polygon((8.5, -2.5), (8.5, -7.4393398282), (8.5, -8.5), (7.4393398282, -8.5), (2.5, -8.5), (2.5, -10), (10, -10), (10, -2.5), align=None)
    extrude(amount=F2_DEPTH)


with BuildPart() as f3:
    # F0 (on Top) → F3 (new body)
    with BuildSketch(Plane.XY):
        Polygon((2.5, -2.5), (1.4393398282, -2.5), (2.5, -3.5606601718), align=None)
        with BuildLine():
            Line((-1.4393398282, -2.5), (-0.894450599, -1.9551107708))
            ThreePointArc((-0.894450599, -1.9551107708), (-1.5202795796, -1.5202795796), (-1.9551107708, -0.894450599))
            Line((-1.9551107708, -0.894450599), (-2.5, -1.4393398282))
            Line((-2.5, -1.4393398282), (-2.5, -2.5))
            Line((-2.5, -2.5), (-1.4393398282, -2.5))
        make_face()
        Polygon((2.9393398282, -4), (2.5, -3.5606601718), (2.5, -4), align=None)
        Polygon((-2.5, -3.5606601718), (-1.4393398282, -2.5), (-2.5, -2.5), align=None)
        Polygon((8.5, -2.5), (8.5, -7.4393398282), (8.5, -8.5), (7.4393398282, -8.5), (2.5, -8.5), (2.5, -10), (10, -10), (10, -2.5), align=None)
        Polygon((2.5, 2.5), (2.5, 1.4393398282), (3.5606601718, 2.5), align=None)
        Polygon((4, -2.5), (3.5606601718, -2.5), (4, -2.9393398282), align=None)
        Polygon((-2.5, -1.4393398282), (-2.5, 1.4393398282), (-3.5606601718, 2.5), (-4, 2.5), (-4, -2.5), (-3.5606601718, -2.5), align=None)
        Polygon((3.5606601718, 2.5), (2.5, 1.4393398282), (2.5, -1.4393398282), (3.5606601718, -2.5), (4, -2.5), (4, 2.5), align=None)
        Polygon((-2.5, 2.5), (-2.5, 3.5606601718), (-2.9393398282, 4), (-4, 4), (-4, 2.9393398282), (-3.5606601718, 2.5), align=None)
        Polygon((-3.5606601718, 2.5), (-2.5, 1.4393398282), (-2.5, 2.5), align=None)
        Polygon((-2.5, -4), (-2.5, -3.5606601718), (-2.9393398282, -4), align=None)
        Polygon((-7.4393398282, -8.5), (-2.9393398282, -4), (-4, -4), (-4, -2.9393398282), (-8.5, -7.4393398282), (-8.5, -8.5), align=None)
        Polygon((-1.4393398282, 2.5), (1.4393398282, 2.5), (2.5, 3.5606601718), (2.5, 4), (-2.5, 4), (-2.5, 3.5606601718), align=None)
        Polygon((-8.5, 8.5), (-7.4393398282, 8.5), (-2.5, 8.5), (-2.5, 10), (-10, 10), (-10, 2.5), (-8.5, 2.5), (-8.5, 7.4393398282), align=None)
        Polygon((-2.9393398282, -4), (-2.5, -3.5606601718), (-2.5, -2.5), (-3.5606601718, -2.5), (-4, -2.9393398282), (-4, -4), align=None)
        with BuildLine():
            ThreePointArc((-0.894450599, 1.9551107708), (0, 2.15), (0.894450599, 1.9551107708))
            Line((0.894450599, 1.9551107708), (1.4393398282, 2.5))
            Line((1.4393398282, 2.5), (-1.4393398282, 2.5))
            Line((-1.4393398282, 2.5), (-0.894450599, 1.9551107708))
        make_face()
        Polygon((4, 4), (4, 2.9393398282), (8.5, 7.4393398282), (8.5, 8.5), (7.4393398282, 8.5), (2.9393398282, 4), align=None)
        Polygon((8.5, -7.4393398282), (4, -2.9393398282), (4, -4), (2.9393398282, -4), (7.4393398282, -8.5), (8.5, -8.5), align=None)
        Polygon((8.5, 8.5), (8.5, 7.4393398282), (8.5, 2.5), (10, 2.5), (10, 10), (2.5, 10), (2.5, 8.5), (7.4393398282, 8.5), align=None)
        with BuildLine():
            ThreePointArc((0.894450599, 1.9551107708), (1.5202795796, 1.5202795796), (1.9551107708, 0.894450599))
            Line((1.9551107708, 0.894450599), (2.5, 1.4393398282))
            Line((2.5, 1.4393398282), (2.5, 2.5))
            Line((2.5, 2.5), (1.4393398282, 2.5))
            Line((1.4393398282, 2.5), (0.894450599, 1.9551107708))
        make_face()
        Polygon((2.5, 3.5606601718), (1.4393398282, 2.5), (2.5, 2.5), align=None)
        Polygon((-2.5, -2.5), (-2.5, -1.4393398282), (-3.5606601718, -2.5), align=None)
        Polygon((2.5, -3.5606601718), (1.4393398282, -2.5), (-1.4393398282, -2.5), (-2.5, -3.5606601718), (-2.5, -4), (2.5, -4), align=None)
        with BuildLine():
            ThreePointArc((-1.9551107708, -0.894450599), (-2.15, 0), (-1.9551107708, 0.894450599))
            Line((-1.9551107708, 0.894450599), (-2.5, 1.4393398282))
            Line((-2.5, 1.4393398282), (-2.5, -1.4393398282))
            Line((-2.5, -1.4393398282), (-1.9551107708, -0.894450599))
        make_face()
        Polygon((-2.5, -8.5), (-7.4393398282, -8.5), (-8.5, -8.5), (-8.5, -7.4393398282), (-8.5, -2.5), (-10, -2.5), (-10, -10), (-2.5, -10), align=None)
        Polygon((-2.5, 2.5), (-1.4393398282, 2.5), (-2.5, 3.5606601718), align=None)
        with BuildLine():
            Line((1.4393398282, -2.5), (0.894450599, -1.9551107708))
            ThreePointArc((0.894450599, -1.9551107708), (0, -2.15), (-0.894450599, -1.9551107708))
            Line((-0.894450599, -1.9551107708), (-1.4393398282, -2.5))
            Line((-1.4393398282, -2.5), (1.4393398282, -2.5))
        make_face()
        with BuildLine():
            Line((2.5, -1.4393398282), (1.9551107708, -0.894450599))
            ThreePointArc((1.9551107708, -0.894450599), (1.5202795796, -1.5202795796), (0.894450599, -1.9551107708))
            Line((0.894450599, -1.9551107708), (1.4393398282, -2.5))
            Line((1.4393398282, -2.5), (2.5, -2.5))
            Line((2.5, -2.5), (2.5, -1.4393398282))
        make_face()
        with BuildLine():
            ThreePointArc((-1.9551107708, 0.894450599), (-1.5202795796, 1.5202795796), (-0.894450599, 1.9551107708))
            Line((-0.894450599, 1.9551107708), (-1.4393398282, 2.5))
            Line((-1.4393398282, 2.5), (-2.5, 2.5))
            Line((-2.5, 2.5), (-2.5, 1.4393398282))
            Line((-2.5, 1.4393398282), (-1.9551107708, 0.894450599))
        make_face()
        Polygon((2.5, 2.5), (3.5606601718, 2.5), (4, 2.9393398282), (4, 4), (2.9393398282, 4), (2.5, 3.5606601718), align=None)
        with BuildLine():
            ThreePointArc((1.9551107708, 0.894450599), (2.1007127549, 0.4577181681), (2.15, 0))
            ThreePointArc((2.15, 0), (2.1007127549, -0.4577181681), (1.9551107708, -0.894450599))
            Line((1.9551107708, -0.894450599), (2.5, -1.4393398282))
            Line((2.5, -1.4393398282), (2.5, 1.4393398282))
            Line((2.5, 1.4393398282), (1.9551107708, 0.894450599))
        make_face()
        Polygon((-4, 4), (-2.9393398282, 4), (-7.4393398282, 8.5), (-8.5, 8.5), (-8.5, 7.4393398282), (-4, 2.9393398282), align=None)
        Polygon((4, -2.9393398282), (3.5606601718, -2.5), (2.5, -2.5), (2.5, -3.5606601718), (2.9393398282, -4), (4, -4), align=None)
        Polygon((3.5606601718, -2.5), (2.5, -1.4393398282), (2.5, -2.5), align=None)
        Polygon((-2.9393398282, 4), (-2.5, 3.5606601718), (-2.5, 4), align=None)
        Polygon((-4, 2.5), (-3.5606601718, 2.5), (-4, 2.9393398282), align=None)
        Polygon((-4, -2.9393398282), (-3.5606601718, -2.5), (-4, -2.5), align=None)
        Polygon((4, 2.9393398282), (3.5606601718, 2.5), (4, 2.5), align=None)
        Polygon((2.5, 4), (2.5, 3.5606601718), (2.9393398282, 4), align=None)
    extrude(amount=F3_DEPTH)


solid = Compound([f1.part, f2.part, f3.part])
